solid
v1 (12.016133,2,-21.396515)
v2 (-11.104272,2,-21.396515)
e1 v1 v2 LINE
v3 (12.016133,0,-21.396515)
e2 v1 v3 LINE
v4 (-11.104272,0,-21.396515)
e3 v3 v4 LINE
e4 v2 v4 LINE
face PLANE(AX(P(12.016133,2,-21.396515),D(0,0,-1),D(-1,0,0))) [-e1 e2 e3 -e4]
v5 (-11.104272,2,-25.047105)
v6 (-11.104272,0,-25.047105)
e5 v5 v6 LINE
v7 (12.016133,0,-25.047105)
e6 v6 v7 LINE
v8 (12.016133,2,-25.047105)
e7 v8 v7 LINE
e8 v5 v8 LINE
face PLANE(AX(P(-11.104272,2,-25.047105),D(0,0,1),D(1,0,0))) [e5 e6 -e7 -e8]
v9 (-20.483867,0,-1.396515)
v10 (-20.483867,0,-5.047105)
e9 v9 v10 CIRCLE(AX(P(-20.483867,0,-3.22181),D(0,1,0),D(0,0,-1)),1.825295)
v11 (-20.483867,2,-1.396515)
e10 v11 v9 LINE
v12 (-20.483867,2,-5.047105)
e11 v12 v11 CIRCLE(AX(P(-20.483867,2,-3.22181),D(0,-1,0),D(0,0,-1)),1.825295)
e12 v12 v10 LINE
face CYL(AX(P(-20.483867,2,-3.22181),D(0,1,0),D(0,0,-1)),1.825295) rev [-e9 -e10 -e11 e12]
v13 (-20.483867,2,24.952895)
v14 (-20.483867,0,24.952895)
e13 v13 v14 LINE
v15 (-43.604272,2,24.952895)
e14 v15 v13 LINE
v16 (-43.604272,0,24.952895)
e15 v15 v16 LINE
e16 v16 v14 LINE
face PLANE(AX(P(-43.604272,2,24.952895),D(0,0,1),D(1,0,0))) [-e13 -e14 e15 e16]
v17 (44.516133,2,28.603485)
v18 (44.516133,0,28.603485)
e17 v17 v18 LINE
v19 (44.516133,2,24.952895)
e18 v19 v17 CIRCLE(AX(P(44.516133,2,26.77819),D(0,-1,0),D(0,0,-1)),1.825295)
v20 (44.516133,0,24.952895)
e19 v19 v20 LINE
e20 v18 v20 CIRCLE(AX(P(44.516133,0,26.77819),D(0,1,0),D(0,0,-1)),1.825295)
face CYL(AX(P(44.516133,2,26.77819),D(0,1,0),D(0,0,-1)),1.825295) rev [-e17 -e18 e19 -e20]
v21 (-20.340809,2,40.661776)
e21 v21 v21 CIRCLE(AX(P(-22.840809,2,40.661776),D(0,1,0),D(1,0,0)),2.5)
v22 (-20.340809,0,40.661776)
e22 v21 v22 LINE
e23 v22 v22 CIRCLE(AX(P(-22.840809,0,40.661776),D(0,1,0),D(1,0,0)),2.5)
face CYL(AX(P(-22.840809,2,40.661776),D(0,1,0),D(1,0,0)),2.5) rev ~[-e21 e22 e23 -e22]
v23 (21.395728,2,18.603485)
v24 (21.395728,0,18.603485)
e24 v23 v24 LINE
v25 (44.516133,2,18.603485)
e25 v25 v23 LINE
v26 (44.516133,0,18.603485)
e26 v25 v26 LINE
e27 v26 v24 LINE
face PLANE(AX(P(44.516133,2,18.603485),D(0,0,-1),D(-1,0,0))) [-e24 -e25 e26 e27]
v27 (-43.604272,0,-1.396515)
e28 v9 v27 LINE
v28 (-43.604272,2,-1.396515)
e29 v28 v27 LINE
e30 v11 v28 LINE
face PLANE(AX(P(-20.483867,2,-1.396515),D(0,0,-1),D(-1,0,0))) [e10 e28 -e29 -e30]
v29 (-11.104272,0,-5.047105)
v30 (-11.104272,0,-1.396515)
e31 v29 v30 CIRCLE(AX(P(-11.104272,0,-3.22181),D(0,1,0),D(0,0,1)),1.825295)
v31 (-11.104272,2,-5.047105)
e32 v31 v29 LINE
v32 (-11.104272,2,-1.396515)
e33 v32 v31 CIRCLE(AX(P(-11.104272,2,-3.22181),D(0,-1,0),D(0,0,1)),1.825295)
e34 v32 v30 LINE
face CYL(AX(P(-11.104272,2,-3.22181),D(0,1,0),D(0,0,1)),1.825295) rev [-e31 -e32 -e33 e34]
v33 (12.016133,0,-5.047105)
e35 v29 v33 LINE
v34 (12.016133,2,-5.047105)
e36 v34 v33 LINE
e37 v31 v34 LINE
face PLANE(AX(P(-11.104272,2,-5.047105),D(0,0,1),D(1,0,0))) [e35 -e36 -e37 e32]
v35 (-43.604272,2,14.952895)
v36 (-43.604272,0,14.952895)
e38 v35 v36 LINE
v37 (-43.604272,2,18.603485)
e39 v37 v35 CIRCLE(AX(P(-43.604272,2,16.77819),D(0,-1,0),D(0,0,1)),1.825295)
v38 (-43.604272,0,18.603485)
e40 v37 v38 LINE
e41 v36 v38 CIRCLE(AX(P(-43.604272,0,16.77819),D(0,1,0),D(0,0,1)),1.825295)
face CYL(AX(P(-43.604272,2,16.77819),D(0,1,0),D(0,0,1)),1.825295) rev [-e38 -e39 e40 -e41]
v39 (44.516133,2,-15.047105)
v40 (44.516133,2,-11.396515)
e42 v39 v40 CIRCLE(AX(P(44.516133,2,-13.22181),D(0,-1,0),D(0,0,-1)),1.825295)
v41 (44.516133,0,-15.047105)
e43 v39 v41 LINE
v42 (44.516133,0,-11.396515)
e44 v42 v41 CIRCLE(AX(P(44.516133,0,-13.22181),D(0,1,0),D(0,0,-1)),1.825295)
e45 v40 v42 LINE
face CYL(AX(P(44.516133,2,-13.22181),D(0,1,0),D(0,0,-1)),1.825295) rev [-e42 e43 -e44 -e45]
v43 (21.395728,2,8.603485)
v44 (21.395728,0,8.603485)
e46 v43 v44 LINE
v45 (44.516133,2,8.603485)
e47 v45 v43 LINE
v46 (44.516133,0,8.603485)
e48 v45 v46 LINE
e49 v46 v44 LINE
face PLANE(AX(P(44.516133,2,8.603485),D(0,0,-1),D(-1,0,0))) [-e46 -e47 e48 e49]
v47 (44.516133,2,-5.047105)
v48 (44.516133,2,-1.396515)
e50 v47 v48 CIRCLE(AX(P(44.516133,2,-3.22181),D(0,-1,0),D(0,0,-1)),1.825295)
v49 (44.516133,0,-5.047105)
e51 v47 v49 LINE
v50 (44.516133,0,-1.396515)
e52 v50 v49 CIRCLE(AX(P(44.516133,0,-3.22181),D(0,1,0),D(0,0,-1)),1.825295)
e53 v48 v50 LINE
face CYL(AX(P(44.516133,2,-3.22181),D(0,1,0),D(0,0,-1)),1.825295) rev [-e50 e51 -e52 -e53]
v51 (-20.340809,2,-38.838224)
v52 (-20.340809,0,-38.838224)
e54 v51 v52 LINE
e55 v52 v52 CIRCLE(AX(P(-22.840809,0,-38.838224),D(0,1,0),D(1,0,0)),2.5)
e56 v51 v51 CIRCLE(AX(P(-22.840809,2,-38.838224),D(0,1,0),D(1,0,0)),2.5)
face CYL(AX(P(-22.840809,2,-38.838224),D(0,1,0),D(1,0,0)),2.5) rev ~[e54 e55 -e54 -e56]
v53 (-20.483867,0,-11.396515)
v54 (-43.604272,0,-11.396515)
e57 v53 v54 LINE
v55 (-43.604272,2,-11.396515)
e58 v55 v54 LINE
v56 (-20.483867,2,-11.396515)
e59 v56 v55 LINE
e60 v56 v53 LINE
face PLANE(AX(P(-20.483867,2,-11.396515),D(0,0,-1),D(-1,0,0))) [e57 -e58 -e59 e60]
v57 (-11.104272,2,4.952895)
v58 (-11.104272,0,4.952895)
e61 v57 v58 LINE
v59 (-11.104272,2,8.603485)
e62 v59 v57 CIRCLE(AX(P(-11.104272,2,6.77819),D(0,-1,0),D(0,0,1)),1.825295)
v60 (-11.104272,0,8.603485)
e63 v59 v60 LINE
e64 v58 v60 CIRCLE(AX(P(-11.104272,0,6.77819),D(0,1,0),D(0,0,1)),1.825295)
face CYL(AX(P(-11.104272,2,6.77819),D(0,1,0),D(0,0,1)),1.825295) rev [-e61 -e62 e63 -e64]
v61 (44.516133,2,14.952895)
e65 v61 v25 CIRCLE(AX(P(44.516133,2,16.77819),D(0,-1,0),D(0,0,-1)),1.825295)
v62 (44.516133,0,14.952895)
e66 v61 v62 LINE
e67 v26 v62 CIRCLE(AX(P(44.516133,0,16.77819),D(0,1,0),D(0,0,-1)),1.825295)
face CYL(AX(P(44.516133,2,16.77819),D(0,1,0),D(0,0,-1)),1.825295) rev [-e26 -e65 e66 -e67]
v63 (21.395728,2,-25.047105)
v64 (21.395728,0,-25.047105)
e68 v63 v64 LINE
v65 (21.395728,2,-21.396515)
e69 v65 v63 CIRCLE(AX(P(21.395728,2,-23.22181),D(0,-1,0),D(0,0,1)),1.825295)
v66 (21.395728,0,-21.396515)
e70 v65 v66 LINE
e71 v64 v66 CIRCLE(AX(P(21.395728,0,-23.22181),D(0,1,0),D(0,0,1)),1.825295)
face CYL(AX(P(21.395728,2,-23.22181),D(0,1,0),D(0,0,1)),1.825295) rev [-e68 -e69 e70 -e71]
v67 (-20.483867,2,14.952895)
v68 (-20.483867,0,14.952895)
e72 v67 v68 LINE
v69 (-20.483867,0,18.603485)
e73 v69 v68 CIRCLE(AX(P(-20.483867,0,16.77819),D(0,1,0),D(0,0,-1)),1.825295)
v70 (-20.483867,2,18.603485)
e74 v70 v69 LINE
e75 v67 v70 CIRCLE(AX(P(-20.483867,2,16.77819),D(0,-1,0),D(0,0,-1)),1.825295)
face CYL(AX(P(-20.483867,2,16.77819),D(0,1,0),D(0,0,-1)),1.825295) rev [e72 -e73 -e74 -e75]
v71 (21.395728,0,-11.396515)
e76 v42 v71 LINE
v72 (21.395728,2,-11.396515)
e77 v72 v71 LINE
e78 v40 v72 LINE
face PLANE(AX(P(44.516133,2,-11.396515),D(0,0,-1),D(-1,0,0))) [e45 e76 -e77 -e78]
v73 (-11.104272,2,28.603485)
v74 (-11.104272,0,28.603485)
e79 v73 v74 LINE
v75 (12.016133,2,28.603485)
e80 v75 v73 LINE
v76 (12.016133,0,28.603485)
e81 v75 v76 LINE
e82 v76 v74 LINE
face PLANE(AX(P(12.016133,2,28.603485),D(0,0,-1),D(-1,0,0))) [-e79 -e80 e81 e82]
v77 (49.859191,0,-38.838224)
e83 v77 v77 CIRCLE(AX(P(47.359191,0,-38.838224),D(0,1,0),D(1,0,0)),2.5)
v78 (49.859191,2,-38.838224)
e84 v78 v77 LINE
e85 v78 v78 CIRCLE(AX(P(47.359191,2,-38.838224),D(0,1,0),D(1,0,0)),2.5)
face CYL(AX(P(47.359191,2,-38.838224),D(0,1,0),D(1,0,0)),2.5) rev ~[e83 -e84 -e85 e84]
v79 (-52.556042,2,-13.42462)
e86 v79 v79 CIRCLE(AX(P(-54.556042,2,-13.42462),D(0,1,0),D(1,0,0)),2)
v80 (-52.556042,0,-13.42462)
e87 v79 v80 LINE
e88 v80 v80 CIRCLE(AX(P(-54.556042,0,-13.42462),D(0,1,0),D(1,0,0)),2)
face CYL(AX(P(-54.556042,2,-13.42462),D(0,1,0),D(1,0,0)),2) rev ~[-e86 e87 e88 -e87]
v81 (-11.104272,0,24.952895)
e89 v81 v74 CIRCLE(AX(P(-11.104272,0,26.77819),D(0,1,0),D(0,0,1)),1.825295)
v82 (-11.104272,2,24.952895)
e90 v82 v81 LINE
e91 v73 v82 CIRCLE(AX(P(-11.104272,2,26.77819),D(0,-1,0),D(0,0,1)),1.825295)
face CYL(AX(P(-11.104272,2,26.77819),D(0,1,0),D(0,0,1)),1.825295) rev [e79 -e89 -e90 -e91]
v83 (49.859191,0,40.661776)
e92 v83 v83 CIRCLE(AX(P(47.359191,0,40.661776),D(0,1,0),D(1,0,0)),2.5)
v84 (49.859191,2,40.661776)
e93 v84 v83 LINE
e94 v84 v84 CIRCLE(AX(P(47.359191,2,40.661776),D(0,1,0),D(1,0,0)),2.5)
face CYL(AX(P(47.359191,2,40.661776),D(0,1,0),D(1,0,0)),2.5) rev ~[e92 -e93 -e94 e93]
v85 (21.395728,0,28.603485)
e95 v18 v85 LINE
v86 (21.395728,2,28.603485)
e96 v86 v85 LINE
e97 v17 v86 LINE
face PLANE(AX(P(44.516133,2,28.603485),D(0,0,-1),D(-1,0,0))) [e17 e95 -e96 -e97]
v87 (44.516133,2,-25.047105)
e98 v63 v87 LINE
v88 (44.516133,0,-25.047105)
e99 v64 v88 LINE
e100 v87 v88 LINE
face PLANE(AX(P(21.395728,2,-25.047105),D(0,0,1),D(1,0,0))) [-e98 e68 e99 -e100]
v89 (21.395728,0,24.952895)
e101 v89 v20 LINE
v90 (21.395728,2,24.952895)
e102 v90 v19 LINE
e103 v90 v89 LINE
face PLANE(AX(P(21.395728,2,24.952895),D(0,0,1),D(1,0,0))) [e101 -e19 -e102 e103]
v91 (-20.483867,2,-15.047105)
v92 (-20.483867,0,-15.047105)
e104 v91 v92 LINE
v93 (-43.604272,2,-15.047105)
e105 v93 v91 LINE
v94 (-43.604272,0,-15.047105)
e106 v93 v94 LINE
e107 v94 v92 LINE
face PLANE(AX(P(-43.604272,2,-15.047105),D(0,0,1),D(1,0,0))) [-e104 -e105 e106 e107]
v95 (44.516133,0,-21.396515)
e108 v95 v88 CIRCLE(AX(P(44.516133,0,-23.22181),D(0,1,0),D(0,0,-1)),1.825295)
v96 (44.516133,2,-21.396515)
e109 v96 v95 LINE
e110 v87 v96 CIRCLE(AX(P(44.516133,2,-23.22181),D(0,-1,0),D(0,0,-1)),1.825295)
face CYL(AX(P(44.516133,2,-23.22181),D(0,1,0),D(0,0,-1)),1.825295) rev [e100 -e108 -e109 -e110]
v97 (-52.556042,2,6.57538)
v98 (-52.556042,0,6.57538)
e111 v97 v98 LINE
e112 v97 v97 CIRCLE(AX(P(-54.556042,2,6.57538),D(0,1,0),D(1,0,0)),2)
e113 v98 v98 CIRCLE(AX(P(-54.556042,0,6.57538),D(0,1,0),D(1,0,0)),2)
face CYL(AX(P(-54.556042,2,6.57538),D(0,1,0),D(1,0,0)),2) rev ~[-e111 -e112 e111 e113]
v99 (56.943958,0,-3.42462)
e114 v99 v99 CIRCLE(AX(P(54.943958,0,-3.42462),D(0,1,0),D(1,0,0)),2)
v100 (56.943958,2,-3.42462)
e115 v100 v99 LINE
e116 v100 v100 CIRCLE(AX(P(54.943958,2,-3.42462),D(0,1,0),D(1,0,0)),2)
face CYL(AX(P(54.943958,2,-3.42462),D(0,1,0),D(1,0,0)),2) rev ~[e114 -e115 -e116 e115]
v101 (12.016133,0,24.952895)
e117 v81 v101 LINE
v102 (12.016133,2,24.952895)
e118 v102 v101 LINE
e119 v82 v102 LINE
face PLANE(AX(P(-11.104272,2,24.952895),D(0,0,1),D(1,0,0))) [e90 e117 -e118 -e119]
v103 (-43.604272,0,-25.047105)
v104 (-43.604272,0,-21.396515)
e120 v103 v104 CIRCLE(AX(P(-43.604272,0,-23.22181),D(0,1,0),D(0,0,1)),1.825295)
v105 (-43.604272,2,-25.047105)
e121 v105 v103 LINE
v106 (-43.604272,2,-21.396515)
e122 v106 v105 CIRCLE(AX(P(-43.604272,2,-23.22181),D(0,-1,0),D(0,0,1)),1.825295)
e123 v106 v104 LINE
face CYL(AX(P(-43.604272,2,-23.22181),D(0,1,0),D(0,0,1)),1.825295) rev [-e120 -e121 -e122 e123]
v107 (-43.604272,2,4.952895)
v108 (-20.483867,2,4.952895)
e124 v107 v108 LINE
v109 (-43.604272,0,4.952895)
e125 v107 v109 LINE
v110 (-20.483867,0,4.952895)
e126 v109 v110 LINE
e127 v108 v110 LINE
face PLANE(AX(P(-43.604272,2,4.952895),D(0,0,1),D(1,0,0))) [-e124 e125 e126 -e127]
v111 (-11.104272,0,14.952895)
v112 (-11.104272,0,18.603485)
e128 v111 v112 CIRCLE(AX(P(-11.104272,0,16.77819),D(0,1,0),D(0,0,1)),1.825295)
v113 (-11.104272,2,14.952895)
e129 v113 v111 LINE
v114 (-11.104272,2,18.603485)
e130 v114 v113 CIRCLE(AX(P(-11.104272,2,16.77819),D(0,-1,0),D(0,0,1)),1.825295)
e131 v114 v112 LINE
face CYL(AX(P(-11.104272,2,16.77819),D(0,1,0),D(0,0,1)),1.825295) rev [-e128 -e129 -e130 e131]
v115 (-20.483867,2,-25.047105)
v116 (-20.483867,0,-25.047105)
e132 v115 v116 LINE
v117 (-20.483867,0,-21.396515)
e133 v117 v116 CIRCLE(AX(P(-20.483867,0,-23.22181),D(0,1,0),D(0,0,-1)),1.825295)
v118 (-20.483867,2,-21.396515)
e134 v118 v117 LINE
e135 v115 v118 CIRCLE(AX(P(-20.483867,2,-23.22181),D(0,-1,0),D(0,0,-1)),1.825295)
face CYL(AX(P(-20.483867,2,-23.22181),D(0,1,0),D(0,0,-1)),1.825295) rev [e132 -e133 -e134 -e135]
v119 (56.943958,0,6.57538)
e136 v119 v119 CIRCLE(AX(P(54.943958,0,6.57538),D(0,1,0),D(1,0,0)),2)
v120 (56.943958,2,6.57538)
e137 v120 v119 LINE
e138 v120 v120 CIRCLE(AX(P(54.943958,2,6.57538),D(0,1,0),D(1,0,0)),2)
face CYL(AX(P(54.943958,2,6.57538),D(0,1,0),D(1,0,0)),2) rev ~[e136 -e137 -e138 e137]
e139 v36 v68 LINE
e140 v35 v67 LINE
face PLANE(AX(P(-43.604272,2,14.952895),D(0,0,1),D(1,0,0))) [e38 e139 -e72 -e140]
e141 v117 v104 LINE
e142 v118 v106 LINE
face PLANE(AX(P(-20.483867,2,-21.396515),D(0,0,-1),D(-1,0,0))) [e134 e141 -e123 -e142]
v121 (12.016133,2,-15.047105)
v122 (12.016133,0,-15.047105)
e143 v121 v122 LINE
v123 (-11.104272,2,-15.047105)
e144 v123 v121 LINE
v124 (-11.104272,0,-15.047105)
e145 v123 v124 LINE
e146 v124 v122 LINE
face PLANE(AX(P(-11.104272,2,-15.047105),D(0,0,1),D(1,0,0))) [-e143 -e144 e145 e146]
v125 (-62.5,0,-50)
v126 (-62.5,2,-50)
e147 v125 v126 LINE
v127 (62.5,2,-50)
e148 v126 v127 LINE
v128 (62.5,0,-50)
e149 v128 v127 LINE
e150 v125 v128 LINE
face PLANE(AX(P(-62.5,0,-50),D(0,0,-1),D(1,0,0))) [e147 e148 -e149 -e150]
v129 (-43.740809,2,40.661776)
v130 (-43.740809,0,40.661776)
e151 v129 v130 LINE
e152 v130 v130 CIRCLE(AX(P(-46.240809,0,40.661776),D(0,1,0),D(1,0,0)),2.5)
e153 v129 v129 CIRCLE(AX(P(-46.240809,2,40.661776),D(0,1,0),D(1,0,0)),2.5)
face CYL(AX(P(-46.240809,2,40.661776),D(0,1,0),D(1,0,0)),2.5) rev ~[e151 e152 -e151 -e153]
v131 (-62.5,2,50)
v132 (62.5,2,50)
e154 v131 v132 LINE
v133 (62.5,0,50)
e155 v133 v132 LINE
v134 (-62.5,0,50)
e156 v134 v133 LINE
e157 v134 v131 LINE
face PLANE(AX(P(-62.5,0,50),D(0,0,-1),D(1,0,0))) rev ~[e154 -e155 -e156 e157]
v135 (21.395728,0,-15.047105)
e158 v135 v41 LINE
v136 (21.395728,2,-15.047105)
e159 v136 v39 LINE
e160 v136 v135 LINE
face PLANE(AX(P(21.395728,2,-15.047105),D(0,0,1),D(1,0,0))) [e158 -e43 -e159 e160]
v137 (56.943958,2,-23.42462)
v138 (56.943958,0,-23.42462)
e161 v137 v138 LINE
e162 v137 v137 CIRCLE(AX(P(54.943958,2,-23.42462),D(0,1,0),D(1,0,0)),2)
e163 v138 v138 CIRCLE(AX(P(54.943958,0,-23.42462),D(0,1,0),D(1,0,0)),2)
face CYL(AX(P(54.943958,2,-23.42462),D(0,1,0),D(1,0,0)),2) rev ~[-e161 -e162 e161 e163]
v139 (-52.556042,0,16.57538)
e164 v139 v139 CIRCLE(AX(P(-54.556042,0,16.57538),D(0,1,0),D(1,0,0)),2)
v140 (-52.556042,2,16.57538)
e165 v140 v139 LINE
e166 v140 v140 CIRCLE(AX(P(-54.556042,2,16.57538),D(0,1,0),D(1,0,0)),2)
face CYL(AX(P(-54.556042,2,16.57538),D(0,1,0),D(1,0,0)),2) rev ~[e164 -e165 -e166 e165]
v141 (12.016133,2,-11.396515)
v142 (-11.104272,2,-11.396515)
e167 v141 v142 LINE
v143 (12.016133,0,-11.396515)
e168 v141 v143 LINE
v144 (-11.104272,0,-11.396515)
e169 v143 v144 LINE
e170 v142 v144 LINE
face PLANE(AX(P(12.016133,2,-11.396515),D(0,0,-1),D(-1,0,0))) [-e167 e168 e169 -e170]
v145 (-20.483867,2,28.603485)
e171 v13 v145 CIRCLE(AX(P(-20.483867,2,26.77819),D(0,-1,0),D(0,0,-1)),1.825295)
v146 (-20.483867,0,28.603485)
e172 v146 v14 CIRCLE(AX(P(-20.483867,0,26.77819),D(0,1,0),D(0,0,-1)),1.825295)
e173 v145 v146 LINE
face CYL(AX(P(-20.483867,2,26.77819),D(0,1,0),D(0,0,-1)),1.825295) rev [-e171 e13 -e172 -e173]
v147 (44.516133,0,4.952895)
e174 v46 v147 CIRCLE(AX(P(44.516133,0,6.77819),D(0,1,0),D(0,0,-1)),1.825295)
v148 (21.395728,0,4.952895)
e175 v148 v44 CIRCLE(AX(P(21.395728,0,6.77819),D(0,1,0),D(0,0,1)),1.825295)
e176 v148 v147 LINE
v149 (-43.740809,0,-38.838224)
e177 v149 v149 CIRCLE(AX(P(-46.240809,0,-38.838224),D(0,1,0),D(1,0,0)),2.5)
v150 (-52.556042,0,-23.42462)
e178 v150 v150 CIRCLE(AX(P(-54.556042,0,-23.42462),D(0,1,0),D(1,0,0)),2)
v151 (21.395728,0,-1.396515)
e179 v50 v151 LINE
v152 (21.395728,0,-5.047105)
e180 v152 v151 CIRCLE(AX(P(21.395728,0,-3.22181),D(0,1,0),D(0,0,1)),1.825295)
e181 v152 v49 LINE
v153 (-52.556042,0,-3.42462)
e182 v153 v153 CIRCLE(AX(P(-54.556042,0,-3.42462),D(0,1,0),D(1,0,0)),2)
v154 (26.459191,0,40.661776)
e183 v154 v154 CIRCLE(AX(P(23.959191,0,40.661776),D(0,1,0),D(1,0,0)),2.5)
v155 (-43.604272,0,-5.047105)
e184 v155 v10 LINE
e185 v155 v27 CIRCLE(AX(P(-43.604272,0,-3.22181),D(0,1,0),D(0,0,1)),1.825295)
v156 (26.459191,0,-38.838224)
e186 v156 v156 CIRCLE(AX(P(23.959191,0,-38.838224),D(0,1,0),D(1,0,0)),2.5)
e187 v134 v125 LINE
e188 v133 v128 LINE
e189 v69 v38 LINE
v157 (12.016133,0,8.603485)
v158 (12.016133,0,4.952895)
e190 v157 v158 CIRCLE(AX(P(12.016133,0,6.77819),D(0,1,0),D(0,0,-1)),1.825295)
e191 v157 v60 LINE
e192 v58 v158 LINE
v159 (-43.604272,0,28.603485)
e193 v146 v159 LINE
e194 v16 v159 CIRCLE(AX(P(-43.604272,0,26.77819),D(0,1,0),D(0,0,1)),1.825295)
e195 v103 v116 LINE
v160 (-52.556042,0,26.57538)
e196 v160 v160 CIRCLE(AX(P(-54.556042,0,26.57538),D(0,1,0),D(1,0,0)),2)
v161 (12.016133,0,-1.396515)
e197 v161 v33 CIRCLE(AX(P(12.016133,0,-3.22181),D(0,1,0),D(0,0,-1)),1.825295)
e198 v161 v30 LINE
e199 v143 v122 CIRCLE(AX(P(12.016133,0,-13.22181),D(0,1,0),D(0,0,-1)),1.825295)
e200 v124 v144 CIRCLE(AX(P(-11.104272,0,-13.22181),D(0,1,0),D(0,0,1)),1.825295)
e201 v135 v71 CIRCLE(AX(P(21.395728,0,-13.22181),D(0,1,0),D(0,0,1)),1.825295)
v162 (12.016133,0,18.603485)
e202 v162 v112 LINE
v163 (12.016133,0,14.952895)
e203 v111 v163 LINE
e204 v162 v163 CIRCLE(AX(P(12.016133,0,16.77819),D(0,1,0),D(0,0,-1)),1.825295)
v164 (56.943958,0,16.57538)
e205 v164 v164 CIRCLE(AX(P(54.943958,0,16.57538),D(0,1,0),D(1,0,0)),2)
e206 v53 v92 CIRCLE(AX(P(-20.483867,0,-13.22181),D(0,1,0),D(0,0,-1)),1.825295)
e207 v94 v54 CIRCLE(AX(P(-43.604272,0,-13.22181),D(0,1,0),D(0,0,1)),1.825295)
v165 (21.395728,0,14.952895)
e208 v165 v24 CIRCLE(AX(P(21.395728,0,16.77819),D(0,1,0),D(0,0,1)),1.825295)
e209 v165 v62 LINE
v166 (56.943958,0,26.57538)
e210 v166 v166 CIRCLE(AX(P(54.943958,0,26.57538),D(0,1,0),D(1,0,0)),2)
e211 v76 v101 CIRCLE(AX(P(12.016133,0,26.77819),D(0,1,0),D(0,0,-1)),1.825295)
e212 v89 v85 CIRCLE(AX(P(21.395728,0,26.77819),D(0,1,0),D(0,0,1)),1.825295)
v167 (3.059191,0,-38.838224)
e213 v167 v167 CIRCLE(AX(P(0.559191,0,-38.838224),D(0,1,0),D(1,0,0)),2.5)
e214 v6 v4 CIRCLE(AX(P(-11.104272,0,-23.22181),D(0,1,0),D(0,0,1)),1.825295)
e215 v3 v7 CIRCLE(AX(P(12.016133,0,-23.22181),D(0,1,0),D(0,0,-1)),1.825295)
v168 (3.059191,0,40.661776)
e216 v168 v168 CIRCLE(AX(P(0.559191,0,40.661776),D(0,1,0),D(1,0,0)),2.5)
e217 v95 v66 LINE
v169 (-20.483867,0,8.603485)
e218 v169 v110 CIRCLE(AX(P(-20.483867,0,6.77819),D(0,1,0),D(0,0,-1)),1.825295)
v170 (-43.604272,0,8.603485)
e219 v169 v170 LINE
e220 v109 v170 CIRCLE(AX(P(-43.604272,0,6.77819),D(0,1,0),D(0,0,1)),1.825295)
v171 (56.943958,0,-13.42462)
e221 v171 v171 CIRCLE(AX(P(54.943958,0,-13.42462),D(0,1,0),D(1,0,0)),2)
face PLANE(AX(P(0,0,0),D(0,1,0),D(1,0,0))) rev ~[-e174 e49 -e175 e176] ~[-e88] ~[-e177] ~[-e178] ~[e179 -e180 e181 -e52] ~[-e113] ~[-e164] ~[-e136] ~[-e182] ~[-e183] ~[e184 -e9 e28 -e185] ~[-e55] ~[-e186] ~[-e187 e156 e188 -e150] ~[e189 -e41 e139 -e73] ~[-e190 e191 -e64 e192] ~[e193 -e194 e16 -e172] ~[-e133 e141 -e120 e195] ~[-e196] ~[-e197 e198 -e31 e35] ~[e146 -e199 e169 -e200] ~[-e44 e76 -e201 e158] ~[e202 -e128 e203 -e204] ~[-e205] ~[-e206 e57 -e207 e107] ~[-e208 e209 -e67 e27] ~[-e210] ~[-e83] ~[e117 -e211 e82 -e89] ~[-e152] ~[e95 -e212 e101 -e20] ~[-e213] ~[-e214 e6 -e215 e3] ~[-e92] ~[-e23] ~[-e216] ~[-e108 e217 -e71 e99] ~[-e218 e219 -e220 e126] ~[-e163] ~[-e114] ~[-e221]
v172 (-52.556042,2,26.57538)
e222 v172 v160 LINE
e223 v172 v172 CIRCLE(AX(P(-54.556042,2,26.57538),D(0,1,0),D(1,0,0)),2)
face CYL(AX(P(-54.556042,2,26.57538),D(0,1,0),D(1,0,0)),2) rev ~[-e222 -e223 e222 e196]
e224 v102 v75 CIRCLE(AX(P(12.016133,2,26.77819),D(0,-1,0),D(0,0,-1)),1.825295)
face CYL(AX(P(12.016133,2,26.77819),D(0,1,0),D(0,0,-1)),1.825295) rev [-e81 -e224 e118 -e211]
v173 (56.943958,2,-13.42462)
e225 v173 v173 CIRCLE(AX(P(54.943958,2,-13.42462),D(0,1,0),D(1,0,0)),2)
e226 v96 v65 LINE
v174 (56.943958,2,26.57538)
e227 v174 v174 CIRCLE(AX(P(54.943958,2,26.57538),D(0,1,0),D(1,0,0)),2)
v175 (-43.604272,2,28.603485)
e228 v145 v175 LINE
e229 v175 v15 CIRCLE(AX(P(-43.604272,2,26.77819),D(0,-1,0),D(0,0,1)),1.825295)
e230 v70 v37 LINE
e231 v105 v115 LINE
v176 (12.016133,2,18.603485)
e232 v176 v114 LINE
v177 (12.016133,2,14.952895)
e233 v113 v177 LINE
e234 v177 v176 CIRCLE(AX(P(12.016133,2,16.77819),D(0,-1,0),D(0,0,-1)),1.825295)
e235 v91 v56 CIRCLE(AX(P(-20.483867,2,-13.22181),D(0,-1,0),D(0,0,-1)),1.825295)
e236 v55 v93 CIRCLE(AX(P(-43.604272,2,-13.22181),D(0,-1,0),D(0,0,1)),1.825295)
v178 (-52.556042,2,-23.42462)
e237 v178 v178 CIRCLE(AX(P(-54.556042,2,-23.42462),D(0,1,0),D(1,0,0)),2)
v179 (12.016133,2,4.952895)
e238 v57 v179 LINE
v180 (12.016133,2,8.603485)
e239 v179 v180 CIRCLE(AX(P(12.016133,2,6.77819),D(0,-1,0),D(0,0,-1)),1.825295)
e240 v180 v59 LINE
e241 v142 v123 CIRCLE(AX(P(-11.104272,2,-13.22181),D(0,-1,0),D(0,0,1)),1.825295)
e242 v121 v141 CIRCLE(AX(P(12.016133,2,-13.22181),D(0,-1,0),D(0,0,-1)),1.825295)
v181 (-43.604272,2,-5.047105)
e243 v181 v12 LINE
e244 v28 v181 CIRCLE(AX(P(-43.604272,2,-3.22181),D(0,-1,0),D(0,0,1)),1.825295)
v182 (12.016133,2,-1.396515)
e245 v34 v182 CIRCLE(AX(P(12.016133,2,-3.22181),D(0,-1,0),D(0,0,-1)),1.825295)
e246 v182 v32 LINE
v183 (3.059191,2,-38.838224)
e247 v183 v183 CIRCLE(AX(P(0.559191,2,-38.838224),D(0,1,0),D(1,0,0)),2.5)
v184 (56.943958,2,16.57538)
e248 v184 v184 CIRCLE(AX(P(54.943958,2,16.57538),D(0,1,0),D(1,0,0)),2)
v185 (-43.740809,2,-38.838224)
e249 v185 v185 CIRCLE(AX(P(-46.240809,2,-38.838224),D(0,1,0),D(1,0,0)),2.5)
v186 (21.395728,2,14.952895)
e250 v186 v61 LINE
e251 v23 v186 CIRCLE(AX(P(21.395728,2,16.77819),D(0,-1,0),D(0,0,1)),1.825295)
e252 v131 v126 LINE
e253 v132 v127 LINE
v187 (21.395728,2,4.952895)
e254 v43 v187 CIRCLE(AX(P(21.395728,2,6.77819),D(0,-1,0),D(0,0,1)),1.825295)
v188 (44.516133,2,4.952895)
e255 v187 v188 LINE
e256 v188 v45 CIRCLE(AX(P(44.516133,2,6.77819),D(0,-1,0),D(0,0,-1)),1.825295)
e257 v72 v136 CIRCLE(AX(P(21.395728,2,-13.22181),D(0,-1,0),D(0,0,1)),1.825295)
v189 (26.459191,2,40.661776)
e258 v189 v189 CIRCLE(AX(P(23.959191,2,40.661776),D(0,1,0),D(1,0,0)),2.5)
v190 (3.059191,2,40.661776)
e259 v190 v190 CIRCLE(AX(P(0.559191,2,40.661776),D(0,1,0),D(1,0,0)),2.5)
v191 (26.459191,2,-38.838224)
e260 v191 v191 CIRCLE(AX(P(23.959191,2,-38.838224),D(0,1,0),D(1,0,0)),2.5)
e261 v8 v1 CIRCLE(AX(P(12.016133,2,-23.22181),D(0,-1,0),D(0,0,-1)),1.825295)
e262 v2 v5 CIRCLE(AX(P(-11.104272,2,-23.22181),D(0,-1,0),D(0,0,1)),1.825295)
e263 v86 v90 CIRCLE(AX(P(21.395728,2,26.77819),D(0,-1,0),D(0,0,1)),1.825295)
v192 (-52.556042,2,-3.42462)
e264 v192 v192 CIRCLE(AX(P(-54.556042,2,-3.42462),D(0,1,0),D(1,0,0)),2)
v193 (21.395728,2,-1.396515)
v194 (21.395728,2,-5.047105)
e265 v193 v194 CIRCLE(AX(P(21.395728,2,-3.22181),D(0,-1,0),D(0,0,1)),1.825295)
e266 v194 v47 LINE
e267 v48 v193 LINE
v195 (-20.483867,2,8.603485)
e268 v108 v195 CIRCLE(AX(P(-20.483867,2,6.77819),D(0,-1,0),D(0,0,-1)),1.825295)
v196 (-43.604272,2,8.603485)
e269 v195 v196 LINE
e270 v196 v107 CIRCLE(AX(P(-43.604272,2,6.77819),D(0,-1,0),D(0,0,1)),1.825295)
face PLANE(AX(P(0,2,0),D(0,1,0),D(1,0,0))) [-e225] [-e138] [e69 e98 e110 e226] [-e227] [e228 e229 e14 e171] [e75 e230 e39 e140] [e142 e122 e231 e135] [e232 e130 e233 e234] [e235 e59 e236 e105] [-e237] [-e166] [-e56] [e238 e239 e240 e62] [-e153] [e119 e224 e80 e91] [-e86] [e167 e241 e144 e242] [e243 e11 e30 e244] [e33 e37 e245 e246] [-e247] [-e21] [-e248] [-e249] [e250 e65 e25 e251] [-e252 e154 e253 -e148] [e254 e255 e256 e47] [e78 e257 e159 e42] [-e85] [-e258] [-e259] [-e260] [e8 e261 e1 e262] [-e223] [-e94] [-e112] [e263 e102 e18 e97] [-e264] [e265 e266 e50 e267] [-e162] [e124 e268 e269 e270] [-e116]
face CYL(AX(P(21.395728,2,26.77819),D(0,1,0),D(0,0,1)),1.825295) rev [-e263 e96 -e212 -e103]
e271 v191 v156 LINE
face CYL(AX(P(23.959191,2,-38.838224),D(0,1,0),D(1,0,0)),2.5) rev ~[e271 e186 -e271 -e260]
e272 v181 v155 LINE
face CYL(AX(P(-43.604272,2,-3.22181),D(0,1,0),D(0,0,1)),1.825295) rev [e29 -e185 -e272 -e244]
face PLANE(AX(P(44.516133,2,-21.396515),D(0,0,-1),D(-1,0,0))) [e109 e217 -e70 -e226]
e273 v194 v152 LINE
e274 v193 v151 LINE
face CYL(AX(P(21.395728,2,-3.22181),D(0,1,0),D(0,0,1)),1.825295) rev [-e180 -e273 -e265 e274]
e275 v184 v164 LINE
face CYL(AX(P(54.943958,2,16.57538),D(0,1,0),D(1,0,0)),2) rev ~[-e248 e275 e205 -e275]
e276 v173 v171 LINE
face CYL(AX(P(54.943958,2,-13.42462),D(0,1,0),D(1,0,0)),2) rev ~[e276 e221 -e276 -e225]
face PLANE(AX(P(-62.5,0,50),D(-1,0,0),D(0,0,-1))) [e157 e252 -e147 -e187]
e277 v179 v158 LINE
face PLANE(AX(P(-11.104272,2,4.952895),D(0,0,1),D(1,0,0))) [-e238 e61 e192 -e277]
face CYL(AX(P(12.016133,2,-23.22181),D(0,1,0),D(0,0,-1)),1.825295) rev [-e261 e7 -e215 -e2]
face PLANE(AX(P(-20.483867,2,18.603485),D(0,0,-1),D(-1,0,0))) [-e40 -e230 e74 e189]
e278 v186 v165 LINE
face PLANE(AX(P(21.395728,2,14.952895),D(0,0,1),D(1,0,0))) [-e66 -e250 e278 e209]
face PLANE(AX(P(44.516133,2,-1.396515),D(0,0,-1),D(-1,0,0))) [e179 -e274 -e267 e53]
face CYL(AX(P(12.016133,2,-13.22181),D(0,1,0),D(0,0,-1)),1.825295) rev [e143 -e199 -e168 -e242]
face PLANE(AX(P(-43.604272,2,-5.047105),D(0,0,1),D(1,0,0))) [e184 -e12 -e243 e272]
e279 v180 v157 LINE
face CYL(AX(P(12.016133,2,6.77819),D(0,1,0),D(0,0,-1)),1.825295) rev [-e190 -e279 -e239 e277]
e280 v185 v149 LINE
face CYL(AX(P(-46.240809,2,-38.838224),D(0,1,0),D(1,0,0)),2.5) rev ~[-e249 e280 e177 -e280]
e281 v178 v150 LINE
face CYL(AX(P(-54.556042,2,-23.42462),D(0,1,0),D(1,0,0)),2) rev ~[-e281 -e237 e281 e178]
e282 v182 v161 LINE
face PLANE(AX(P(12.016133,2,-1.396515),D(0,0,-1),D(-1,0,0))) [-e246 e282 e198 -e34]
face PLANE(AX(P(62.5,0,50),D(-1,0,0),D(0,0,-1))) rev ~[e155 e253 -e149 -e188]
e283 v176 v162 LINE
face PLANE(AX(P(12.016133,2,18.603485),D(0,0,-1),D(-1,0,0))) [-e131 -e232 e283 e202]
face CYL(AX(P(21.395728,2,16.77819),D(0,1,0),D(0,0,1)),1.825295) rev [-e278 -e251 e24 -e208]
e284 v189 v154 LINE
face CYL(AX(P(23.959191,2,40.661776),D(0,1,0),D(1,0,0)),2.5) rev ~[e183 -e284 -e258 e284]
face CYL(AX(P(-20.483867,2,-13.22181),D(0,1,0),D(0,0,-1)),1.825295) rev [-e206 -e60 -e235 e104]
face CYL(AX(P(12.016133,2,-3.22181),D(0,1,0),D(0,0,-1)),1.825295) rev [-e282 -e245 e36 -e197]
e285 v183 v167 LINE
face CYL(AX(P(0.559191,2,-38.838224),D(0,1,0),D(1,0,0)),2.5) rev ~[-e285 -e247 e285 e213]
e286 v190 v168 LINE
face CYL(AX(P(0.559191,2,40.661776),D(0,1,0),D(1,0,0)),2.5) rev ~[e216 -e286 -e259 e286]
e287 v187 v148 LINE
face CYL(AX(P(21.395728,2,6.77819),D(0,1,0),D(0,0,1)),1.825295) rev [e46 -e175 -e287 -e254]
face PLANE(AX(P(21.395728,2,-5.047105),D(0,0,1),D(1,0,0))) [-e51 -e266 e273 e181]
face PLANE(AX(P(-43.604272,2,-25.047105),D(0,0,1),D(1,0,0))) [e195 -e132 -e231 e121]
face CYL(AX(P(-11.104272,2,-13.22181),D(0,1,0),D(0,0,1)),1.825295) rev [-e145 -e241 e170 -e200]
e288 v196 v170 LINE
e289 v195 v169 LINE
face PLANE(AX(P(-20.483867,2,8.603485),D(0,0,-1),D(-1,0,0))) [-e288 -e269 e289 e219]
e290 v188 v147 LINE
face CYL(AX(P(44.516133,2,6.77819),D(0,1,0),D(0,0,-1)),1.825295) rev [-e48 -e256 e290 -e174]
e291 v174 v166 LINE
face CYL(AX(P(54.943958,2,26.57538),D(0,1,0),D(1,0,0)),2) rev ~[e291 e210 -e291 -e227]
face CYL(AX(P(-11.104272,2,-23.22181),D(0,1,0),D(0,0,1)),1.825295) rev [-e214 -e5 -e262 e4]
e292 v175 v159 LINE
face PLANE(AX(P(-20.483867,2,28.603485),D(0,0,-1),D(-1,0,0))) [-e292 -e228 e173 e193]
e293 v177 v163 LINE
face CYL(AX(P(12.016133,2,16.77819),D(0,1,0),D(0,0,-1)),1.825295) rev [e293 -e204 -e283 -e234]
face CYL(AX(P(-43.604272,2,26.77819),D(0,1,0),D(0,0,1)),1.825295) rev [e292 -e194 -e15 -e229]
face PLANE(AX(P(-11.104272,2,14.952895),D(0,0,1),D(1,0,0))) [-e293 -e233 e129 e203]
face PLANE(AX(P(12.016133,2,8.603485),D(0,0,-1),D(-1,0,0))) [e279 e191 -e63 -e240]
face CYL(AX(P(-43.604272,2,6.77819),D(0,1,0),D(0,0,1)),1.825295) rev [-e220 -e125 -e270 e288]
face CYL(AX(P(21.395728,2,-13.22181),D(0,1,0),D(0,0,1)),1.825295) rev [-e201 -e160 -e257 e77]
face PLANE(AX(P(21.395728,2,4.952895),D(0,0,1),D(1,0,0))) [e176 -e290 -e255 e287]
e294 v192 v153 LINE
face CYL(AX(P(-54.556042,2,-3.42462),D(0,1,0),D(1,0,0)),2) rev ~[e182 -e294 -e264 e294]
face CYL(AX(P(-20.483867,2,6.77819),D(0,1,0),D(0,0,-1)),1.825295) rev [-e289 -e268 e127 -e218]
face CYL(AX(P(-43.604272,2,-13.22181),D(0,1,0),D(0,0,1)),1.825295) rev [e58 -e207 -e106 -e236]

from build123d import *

# Parameters (mm, degrees)
SKETCH1_W            = 125
SKETCH1_H            = 100
BOSS_EXTRUDE1_DEPTH  = 2
CUT_EXTRUDE1_DEPTH   = 3
LPATTERN1_COUNT      = 6
LPATTERN1_PITCH      = 10
LPATTERN1_COUNT_DIR2 = 3
LPATTERN1_PITCH_DIR2 = 32.5
SKETCH3_R            = 2
CUT_EXTRUDE2_DEPTH   = 3
LPATTERN2_COUNT      = 6
LPATTERN2_PITCH      = 10
LPATTERN2_COUNT_DIR2 = 2
LPATTERN2_PITCH_DIR2 = 109.5
SKETCH4_R            = 2.5
CUT_EXTRUDE3_DEPTH   = 20
LPATTERN3_COUNT      = 5
LPATTERN3_PITCH      = 23.4
LPATTERN3_COUNT_DIR2 = 3
LPATTERN3_PITCH_DIR2 = 79.5


with BuildPart() as part:
    # Sketch1 → Boss-Extrude1 (new body)
    with BuildSketch(Plane(origin=(0, 0, 0), x_dir=(1, 0, 0), z_dir=(0, 1, 0))):
        Rectangle(SKETCH1_W, SKETCH1_H)
    extrude(amount=BOSS_EXTRUDE1_DEPTH)

    # Sketch2 → Cut-Extrude1 (cut, through all)
    with BuildSketch(Plane(origin=(0, 2, 0), x_dir=(1, 0, 0), z_dir=(0, 1, 0))):
        with BuildLine():
            Line((-43.604271847, 25.047104991), (-20.48386724, 25.047104991))
            ThreePointArc((-20.48386724, 25.047104991), (-18.658572139, 23.22180989), (-20.48386724, 21.39651479))
            Line((-20.48386724, 21.39651479), (-43.604271847, 21.39651479))
            ThreePointArc((-43.604271847, 21.39651479), (-45.429566947, 23.22180989), (-43.604271847, 25.047104991))
        make_face()
    cut_extrude1 = extrude(amount=-CUT_EXTRUDE1_DEPTH, mode=Mode.SUBTRACT)

    # LPattern1: Cut-Extrude1 6 × 3
    with Locations(*[(j * LPATTERN1_PITCH_DIR2, 0, i * LPATTERN1_PITCH) for i in range(LPATTERN1_COUNT) for j in range(LPATTERN1_COUNT_DIR2) if (i, j) != (0, 0)]):
        add(cut_extrude1, mode=Mode.SUBTRACT)

    # Sketch3 → Cut-Extrude2 (cut, through all)
    with BuildSketch(Plane(origin=(0, 2, 0), x_dir=(1, 0, 0), z_dir=(0, 1, 0))):
        with Locations((-54.55604245, 23.424620457)):
            Circle(SKETCH3_R)
    cut_extrude2 = extrude(amount=-CUT_EXTRUDE2_DEPTH, mode=Mode.SUBTRACT)

    # LPattern2: Cut-Extrude2 6 × 2
    with Locations(*[(j * LPATTERN2_PITCH_DIR2, 0, i * LPATTERN2_PITCH) for i in range(LPATTERN2_COUNT) for j in range(LPATTERN2_COUNT_DIR2) if (i, j) != (0, 0)]):
        add(cut_extrude2, mode=Mode.SUBTRACT)

    # Sketch4 → Cut-Extrude3 (cut)
    with BuildSketch(Plane(origin=(0, 2, 0), x_dir=(1, 0, 0), z_dir=(0, 1, 0))):
        with Locations((-46.240809214, 38.838223529)):
            Circle(SKETCH4_R)
    cut_extrude3 = extrude(amount=-CUT_EXTRUDE3_DEPTH, mode=Mode.SUBTRACT)

    # LPattern3: Cut-Extrude3 5 × 3
    with Locations(*[(i * LPATTERN3_PITCH, 0, j * LPATTERN3_PITCH_DIR2) for i in range(LPATTERN3_COUNT) for j in range(LPATTERN3_COUNT_DIR2) if (i, j) != (0, 0)]):
        add(cut_extrude3, mode=Mode.SUBTRACT)


solid = part.part
